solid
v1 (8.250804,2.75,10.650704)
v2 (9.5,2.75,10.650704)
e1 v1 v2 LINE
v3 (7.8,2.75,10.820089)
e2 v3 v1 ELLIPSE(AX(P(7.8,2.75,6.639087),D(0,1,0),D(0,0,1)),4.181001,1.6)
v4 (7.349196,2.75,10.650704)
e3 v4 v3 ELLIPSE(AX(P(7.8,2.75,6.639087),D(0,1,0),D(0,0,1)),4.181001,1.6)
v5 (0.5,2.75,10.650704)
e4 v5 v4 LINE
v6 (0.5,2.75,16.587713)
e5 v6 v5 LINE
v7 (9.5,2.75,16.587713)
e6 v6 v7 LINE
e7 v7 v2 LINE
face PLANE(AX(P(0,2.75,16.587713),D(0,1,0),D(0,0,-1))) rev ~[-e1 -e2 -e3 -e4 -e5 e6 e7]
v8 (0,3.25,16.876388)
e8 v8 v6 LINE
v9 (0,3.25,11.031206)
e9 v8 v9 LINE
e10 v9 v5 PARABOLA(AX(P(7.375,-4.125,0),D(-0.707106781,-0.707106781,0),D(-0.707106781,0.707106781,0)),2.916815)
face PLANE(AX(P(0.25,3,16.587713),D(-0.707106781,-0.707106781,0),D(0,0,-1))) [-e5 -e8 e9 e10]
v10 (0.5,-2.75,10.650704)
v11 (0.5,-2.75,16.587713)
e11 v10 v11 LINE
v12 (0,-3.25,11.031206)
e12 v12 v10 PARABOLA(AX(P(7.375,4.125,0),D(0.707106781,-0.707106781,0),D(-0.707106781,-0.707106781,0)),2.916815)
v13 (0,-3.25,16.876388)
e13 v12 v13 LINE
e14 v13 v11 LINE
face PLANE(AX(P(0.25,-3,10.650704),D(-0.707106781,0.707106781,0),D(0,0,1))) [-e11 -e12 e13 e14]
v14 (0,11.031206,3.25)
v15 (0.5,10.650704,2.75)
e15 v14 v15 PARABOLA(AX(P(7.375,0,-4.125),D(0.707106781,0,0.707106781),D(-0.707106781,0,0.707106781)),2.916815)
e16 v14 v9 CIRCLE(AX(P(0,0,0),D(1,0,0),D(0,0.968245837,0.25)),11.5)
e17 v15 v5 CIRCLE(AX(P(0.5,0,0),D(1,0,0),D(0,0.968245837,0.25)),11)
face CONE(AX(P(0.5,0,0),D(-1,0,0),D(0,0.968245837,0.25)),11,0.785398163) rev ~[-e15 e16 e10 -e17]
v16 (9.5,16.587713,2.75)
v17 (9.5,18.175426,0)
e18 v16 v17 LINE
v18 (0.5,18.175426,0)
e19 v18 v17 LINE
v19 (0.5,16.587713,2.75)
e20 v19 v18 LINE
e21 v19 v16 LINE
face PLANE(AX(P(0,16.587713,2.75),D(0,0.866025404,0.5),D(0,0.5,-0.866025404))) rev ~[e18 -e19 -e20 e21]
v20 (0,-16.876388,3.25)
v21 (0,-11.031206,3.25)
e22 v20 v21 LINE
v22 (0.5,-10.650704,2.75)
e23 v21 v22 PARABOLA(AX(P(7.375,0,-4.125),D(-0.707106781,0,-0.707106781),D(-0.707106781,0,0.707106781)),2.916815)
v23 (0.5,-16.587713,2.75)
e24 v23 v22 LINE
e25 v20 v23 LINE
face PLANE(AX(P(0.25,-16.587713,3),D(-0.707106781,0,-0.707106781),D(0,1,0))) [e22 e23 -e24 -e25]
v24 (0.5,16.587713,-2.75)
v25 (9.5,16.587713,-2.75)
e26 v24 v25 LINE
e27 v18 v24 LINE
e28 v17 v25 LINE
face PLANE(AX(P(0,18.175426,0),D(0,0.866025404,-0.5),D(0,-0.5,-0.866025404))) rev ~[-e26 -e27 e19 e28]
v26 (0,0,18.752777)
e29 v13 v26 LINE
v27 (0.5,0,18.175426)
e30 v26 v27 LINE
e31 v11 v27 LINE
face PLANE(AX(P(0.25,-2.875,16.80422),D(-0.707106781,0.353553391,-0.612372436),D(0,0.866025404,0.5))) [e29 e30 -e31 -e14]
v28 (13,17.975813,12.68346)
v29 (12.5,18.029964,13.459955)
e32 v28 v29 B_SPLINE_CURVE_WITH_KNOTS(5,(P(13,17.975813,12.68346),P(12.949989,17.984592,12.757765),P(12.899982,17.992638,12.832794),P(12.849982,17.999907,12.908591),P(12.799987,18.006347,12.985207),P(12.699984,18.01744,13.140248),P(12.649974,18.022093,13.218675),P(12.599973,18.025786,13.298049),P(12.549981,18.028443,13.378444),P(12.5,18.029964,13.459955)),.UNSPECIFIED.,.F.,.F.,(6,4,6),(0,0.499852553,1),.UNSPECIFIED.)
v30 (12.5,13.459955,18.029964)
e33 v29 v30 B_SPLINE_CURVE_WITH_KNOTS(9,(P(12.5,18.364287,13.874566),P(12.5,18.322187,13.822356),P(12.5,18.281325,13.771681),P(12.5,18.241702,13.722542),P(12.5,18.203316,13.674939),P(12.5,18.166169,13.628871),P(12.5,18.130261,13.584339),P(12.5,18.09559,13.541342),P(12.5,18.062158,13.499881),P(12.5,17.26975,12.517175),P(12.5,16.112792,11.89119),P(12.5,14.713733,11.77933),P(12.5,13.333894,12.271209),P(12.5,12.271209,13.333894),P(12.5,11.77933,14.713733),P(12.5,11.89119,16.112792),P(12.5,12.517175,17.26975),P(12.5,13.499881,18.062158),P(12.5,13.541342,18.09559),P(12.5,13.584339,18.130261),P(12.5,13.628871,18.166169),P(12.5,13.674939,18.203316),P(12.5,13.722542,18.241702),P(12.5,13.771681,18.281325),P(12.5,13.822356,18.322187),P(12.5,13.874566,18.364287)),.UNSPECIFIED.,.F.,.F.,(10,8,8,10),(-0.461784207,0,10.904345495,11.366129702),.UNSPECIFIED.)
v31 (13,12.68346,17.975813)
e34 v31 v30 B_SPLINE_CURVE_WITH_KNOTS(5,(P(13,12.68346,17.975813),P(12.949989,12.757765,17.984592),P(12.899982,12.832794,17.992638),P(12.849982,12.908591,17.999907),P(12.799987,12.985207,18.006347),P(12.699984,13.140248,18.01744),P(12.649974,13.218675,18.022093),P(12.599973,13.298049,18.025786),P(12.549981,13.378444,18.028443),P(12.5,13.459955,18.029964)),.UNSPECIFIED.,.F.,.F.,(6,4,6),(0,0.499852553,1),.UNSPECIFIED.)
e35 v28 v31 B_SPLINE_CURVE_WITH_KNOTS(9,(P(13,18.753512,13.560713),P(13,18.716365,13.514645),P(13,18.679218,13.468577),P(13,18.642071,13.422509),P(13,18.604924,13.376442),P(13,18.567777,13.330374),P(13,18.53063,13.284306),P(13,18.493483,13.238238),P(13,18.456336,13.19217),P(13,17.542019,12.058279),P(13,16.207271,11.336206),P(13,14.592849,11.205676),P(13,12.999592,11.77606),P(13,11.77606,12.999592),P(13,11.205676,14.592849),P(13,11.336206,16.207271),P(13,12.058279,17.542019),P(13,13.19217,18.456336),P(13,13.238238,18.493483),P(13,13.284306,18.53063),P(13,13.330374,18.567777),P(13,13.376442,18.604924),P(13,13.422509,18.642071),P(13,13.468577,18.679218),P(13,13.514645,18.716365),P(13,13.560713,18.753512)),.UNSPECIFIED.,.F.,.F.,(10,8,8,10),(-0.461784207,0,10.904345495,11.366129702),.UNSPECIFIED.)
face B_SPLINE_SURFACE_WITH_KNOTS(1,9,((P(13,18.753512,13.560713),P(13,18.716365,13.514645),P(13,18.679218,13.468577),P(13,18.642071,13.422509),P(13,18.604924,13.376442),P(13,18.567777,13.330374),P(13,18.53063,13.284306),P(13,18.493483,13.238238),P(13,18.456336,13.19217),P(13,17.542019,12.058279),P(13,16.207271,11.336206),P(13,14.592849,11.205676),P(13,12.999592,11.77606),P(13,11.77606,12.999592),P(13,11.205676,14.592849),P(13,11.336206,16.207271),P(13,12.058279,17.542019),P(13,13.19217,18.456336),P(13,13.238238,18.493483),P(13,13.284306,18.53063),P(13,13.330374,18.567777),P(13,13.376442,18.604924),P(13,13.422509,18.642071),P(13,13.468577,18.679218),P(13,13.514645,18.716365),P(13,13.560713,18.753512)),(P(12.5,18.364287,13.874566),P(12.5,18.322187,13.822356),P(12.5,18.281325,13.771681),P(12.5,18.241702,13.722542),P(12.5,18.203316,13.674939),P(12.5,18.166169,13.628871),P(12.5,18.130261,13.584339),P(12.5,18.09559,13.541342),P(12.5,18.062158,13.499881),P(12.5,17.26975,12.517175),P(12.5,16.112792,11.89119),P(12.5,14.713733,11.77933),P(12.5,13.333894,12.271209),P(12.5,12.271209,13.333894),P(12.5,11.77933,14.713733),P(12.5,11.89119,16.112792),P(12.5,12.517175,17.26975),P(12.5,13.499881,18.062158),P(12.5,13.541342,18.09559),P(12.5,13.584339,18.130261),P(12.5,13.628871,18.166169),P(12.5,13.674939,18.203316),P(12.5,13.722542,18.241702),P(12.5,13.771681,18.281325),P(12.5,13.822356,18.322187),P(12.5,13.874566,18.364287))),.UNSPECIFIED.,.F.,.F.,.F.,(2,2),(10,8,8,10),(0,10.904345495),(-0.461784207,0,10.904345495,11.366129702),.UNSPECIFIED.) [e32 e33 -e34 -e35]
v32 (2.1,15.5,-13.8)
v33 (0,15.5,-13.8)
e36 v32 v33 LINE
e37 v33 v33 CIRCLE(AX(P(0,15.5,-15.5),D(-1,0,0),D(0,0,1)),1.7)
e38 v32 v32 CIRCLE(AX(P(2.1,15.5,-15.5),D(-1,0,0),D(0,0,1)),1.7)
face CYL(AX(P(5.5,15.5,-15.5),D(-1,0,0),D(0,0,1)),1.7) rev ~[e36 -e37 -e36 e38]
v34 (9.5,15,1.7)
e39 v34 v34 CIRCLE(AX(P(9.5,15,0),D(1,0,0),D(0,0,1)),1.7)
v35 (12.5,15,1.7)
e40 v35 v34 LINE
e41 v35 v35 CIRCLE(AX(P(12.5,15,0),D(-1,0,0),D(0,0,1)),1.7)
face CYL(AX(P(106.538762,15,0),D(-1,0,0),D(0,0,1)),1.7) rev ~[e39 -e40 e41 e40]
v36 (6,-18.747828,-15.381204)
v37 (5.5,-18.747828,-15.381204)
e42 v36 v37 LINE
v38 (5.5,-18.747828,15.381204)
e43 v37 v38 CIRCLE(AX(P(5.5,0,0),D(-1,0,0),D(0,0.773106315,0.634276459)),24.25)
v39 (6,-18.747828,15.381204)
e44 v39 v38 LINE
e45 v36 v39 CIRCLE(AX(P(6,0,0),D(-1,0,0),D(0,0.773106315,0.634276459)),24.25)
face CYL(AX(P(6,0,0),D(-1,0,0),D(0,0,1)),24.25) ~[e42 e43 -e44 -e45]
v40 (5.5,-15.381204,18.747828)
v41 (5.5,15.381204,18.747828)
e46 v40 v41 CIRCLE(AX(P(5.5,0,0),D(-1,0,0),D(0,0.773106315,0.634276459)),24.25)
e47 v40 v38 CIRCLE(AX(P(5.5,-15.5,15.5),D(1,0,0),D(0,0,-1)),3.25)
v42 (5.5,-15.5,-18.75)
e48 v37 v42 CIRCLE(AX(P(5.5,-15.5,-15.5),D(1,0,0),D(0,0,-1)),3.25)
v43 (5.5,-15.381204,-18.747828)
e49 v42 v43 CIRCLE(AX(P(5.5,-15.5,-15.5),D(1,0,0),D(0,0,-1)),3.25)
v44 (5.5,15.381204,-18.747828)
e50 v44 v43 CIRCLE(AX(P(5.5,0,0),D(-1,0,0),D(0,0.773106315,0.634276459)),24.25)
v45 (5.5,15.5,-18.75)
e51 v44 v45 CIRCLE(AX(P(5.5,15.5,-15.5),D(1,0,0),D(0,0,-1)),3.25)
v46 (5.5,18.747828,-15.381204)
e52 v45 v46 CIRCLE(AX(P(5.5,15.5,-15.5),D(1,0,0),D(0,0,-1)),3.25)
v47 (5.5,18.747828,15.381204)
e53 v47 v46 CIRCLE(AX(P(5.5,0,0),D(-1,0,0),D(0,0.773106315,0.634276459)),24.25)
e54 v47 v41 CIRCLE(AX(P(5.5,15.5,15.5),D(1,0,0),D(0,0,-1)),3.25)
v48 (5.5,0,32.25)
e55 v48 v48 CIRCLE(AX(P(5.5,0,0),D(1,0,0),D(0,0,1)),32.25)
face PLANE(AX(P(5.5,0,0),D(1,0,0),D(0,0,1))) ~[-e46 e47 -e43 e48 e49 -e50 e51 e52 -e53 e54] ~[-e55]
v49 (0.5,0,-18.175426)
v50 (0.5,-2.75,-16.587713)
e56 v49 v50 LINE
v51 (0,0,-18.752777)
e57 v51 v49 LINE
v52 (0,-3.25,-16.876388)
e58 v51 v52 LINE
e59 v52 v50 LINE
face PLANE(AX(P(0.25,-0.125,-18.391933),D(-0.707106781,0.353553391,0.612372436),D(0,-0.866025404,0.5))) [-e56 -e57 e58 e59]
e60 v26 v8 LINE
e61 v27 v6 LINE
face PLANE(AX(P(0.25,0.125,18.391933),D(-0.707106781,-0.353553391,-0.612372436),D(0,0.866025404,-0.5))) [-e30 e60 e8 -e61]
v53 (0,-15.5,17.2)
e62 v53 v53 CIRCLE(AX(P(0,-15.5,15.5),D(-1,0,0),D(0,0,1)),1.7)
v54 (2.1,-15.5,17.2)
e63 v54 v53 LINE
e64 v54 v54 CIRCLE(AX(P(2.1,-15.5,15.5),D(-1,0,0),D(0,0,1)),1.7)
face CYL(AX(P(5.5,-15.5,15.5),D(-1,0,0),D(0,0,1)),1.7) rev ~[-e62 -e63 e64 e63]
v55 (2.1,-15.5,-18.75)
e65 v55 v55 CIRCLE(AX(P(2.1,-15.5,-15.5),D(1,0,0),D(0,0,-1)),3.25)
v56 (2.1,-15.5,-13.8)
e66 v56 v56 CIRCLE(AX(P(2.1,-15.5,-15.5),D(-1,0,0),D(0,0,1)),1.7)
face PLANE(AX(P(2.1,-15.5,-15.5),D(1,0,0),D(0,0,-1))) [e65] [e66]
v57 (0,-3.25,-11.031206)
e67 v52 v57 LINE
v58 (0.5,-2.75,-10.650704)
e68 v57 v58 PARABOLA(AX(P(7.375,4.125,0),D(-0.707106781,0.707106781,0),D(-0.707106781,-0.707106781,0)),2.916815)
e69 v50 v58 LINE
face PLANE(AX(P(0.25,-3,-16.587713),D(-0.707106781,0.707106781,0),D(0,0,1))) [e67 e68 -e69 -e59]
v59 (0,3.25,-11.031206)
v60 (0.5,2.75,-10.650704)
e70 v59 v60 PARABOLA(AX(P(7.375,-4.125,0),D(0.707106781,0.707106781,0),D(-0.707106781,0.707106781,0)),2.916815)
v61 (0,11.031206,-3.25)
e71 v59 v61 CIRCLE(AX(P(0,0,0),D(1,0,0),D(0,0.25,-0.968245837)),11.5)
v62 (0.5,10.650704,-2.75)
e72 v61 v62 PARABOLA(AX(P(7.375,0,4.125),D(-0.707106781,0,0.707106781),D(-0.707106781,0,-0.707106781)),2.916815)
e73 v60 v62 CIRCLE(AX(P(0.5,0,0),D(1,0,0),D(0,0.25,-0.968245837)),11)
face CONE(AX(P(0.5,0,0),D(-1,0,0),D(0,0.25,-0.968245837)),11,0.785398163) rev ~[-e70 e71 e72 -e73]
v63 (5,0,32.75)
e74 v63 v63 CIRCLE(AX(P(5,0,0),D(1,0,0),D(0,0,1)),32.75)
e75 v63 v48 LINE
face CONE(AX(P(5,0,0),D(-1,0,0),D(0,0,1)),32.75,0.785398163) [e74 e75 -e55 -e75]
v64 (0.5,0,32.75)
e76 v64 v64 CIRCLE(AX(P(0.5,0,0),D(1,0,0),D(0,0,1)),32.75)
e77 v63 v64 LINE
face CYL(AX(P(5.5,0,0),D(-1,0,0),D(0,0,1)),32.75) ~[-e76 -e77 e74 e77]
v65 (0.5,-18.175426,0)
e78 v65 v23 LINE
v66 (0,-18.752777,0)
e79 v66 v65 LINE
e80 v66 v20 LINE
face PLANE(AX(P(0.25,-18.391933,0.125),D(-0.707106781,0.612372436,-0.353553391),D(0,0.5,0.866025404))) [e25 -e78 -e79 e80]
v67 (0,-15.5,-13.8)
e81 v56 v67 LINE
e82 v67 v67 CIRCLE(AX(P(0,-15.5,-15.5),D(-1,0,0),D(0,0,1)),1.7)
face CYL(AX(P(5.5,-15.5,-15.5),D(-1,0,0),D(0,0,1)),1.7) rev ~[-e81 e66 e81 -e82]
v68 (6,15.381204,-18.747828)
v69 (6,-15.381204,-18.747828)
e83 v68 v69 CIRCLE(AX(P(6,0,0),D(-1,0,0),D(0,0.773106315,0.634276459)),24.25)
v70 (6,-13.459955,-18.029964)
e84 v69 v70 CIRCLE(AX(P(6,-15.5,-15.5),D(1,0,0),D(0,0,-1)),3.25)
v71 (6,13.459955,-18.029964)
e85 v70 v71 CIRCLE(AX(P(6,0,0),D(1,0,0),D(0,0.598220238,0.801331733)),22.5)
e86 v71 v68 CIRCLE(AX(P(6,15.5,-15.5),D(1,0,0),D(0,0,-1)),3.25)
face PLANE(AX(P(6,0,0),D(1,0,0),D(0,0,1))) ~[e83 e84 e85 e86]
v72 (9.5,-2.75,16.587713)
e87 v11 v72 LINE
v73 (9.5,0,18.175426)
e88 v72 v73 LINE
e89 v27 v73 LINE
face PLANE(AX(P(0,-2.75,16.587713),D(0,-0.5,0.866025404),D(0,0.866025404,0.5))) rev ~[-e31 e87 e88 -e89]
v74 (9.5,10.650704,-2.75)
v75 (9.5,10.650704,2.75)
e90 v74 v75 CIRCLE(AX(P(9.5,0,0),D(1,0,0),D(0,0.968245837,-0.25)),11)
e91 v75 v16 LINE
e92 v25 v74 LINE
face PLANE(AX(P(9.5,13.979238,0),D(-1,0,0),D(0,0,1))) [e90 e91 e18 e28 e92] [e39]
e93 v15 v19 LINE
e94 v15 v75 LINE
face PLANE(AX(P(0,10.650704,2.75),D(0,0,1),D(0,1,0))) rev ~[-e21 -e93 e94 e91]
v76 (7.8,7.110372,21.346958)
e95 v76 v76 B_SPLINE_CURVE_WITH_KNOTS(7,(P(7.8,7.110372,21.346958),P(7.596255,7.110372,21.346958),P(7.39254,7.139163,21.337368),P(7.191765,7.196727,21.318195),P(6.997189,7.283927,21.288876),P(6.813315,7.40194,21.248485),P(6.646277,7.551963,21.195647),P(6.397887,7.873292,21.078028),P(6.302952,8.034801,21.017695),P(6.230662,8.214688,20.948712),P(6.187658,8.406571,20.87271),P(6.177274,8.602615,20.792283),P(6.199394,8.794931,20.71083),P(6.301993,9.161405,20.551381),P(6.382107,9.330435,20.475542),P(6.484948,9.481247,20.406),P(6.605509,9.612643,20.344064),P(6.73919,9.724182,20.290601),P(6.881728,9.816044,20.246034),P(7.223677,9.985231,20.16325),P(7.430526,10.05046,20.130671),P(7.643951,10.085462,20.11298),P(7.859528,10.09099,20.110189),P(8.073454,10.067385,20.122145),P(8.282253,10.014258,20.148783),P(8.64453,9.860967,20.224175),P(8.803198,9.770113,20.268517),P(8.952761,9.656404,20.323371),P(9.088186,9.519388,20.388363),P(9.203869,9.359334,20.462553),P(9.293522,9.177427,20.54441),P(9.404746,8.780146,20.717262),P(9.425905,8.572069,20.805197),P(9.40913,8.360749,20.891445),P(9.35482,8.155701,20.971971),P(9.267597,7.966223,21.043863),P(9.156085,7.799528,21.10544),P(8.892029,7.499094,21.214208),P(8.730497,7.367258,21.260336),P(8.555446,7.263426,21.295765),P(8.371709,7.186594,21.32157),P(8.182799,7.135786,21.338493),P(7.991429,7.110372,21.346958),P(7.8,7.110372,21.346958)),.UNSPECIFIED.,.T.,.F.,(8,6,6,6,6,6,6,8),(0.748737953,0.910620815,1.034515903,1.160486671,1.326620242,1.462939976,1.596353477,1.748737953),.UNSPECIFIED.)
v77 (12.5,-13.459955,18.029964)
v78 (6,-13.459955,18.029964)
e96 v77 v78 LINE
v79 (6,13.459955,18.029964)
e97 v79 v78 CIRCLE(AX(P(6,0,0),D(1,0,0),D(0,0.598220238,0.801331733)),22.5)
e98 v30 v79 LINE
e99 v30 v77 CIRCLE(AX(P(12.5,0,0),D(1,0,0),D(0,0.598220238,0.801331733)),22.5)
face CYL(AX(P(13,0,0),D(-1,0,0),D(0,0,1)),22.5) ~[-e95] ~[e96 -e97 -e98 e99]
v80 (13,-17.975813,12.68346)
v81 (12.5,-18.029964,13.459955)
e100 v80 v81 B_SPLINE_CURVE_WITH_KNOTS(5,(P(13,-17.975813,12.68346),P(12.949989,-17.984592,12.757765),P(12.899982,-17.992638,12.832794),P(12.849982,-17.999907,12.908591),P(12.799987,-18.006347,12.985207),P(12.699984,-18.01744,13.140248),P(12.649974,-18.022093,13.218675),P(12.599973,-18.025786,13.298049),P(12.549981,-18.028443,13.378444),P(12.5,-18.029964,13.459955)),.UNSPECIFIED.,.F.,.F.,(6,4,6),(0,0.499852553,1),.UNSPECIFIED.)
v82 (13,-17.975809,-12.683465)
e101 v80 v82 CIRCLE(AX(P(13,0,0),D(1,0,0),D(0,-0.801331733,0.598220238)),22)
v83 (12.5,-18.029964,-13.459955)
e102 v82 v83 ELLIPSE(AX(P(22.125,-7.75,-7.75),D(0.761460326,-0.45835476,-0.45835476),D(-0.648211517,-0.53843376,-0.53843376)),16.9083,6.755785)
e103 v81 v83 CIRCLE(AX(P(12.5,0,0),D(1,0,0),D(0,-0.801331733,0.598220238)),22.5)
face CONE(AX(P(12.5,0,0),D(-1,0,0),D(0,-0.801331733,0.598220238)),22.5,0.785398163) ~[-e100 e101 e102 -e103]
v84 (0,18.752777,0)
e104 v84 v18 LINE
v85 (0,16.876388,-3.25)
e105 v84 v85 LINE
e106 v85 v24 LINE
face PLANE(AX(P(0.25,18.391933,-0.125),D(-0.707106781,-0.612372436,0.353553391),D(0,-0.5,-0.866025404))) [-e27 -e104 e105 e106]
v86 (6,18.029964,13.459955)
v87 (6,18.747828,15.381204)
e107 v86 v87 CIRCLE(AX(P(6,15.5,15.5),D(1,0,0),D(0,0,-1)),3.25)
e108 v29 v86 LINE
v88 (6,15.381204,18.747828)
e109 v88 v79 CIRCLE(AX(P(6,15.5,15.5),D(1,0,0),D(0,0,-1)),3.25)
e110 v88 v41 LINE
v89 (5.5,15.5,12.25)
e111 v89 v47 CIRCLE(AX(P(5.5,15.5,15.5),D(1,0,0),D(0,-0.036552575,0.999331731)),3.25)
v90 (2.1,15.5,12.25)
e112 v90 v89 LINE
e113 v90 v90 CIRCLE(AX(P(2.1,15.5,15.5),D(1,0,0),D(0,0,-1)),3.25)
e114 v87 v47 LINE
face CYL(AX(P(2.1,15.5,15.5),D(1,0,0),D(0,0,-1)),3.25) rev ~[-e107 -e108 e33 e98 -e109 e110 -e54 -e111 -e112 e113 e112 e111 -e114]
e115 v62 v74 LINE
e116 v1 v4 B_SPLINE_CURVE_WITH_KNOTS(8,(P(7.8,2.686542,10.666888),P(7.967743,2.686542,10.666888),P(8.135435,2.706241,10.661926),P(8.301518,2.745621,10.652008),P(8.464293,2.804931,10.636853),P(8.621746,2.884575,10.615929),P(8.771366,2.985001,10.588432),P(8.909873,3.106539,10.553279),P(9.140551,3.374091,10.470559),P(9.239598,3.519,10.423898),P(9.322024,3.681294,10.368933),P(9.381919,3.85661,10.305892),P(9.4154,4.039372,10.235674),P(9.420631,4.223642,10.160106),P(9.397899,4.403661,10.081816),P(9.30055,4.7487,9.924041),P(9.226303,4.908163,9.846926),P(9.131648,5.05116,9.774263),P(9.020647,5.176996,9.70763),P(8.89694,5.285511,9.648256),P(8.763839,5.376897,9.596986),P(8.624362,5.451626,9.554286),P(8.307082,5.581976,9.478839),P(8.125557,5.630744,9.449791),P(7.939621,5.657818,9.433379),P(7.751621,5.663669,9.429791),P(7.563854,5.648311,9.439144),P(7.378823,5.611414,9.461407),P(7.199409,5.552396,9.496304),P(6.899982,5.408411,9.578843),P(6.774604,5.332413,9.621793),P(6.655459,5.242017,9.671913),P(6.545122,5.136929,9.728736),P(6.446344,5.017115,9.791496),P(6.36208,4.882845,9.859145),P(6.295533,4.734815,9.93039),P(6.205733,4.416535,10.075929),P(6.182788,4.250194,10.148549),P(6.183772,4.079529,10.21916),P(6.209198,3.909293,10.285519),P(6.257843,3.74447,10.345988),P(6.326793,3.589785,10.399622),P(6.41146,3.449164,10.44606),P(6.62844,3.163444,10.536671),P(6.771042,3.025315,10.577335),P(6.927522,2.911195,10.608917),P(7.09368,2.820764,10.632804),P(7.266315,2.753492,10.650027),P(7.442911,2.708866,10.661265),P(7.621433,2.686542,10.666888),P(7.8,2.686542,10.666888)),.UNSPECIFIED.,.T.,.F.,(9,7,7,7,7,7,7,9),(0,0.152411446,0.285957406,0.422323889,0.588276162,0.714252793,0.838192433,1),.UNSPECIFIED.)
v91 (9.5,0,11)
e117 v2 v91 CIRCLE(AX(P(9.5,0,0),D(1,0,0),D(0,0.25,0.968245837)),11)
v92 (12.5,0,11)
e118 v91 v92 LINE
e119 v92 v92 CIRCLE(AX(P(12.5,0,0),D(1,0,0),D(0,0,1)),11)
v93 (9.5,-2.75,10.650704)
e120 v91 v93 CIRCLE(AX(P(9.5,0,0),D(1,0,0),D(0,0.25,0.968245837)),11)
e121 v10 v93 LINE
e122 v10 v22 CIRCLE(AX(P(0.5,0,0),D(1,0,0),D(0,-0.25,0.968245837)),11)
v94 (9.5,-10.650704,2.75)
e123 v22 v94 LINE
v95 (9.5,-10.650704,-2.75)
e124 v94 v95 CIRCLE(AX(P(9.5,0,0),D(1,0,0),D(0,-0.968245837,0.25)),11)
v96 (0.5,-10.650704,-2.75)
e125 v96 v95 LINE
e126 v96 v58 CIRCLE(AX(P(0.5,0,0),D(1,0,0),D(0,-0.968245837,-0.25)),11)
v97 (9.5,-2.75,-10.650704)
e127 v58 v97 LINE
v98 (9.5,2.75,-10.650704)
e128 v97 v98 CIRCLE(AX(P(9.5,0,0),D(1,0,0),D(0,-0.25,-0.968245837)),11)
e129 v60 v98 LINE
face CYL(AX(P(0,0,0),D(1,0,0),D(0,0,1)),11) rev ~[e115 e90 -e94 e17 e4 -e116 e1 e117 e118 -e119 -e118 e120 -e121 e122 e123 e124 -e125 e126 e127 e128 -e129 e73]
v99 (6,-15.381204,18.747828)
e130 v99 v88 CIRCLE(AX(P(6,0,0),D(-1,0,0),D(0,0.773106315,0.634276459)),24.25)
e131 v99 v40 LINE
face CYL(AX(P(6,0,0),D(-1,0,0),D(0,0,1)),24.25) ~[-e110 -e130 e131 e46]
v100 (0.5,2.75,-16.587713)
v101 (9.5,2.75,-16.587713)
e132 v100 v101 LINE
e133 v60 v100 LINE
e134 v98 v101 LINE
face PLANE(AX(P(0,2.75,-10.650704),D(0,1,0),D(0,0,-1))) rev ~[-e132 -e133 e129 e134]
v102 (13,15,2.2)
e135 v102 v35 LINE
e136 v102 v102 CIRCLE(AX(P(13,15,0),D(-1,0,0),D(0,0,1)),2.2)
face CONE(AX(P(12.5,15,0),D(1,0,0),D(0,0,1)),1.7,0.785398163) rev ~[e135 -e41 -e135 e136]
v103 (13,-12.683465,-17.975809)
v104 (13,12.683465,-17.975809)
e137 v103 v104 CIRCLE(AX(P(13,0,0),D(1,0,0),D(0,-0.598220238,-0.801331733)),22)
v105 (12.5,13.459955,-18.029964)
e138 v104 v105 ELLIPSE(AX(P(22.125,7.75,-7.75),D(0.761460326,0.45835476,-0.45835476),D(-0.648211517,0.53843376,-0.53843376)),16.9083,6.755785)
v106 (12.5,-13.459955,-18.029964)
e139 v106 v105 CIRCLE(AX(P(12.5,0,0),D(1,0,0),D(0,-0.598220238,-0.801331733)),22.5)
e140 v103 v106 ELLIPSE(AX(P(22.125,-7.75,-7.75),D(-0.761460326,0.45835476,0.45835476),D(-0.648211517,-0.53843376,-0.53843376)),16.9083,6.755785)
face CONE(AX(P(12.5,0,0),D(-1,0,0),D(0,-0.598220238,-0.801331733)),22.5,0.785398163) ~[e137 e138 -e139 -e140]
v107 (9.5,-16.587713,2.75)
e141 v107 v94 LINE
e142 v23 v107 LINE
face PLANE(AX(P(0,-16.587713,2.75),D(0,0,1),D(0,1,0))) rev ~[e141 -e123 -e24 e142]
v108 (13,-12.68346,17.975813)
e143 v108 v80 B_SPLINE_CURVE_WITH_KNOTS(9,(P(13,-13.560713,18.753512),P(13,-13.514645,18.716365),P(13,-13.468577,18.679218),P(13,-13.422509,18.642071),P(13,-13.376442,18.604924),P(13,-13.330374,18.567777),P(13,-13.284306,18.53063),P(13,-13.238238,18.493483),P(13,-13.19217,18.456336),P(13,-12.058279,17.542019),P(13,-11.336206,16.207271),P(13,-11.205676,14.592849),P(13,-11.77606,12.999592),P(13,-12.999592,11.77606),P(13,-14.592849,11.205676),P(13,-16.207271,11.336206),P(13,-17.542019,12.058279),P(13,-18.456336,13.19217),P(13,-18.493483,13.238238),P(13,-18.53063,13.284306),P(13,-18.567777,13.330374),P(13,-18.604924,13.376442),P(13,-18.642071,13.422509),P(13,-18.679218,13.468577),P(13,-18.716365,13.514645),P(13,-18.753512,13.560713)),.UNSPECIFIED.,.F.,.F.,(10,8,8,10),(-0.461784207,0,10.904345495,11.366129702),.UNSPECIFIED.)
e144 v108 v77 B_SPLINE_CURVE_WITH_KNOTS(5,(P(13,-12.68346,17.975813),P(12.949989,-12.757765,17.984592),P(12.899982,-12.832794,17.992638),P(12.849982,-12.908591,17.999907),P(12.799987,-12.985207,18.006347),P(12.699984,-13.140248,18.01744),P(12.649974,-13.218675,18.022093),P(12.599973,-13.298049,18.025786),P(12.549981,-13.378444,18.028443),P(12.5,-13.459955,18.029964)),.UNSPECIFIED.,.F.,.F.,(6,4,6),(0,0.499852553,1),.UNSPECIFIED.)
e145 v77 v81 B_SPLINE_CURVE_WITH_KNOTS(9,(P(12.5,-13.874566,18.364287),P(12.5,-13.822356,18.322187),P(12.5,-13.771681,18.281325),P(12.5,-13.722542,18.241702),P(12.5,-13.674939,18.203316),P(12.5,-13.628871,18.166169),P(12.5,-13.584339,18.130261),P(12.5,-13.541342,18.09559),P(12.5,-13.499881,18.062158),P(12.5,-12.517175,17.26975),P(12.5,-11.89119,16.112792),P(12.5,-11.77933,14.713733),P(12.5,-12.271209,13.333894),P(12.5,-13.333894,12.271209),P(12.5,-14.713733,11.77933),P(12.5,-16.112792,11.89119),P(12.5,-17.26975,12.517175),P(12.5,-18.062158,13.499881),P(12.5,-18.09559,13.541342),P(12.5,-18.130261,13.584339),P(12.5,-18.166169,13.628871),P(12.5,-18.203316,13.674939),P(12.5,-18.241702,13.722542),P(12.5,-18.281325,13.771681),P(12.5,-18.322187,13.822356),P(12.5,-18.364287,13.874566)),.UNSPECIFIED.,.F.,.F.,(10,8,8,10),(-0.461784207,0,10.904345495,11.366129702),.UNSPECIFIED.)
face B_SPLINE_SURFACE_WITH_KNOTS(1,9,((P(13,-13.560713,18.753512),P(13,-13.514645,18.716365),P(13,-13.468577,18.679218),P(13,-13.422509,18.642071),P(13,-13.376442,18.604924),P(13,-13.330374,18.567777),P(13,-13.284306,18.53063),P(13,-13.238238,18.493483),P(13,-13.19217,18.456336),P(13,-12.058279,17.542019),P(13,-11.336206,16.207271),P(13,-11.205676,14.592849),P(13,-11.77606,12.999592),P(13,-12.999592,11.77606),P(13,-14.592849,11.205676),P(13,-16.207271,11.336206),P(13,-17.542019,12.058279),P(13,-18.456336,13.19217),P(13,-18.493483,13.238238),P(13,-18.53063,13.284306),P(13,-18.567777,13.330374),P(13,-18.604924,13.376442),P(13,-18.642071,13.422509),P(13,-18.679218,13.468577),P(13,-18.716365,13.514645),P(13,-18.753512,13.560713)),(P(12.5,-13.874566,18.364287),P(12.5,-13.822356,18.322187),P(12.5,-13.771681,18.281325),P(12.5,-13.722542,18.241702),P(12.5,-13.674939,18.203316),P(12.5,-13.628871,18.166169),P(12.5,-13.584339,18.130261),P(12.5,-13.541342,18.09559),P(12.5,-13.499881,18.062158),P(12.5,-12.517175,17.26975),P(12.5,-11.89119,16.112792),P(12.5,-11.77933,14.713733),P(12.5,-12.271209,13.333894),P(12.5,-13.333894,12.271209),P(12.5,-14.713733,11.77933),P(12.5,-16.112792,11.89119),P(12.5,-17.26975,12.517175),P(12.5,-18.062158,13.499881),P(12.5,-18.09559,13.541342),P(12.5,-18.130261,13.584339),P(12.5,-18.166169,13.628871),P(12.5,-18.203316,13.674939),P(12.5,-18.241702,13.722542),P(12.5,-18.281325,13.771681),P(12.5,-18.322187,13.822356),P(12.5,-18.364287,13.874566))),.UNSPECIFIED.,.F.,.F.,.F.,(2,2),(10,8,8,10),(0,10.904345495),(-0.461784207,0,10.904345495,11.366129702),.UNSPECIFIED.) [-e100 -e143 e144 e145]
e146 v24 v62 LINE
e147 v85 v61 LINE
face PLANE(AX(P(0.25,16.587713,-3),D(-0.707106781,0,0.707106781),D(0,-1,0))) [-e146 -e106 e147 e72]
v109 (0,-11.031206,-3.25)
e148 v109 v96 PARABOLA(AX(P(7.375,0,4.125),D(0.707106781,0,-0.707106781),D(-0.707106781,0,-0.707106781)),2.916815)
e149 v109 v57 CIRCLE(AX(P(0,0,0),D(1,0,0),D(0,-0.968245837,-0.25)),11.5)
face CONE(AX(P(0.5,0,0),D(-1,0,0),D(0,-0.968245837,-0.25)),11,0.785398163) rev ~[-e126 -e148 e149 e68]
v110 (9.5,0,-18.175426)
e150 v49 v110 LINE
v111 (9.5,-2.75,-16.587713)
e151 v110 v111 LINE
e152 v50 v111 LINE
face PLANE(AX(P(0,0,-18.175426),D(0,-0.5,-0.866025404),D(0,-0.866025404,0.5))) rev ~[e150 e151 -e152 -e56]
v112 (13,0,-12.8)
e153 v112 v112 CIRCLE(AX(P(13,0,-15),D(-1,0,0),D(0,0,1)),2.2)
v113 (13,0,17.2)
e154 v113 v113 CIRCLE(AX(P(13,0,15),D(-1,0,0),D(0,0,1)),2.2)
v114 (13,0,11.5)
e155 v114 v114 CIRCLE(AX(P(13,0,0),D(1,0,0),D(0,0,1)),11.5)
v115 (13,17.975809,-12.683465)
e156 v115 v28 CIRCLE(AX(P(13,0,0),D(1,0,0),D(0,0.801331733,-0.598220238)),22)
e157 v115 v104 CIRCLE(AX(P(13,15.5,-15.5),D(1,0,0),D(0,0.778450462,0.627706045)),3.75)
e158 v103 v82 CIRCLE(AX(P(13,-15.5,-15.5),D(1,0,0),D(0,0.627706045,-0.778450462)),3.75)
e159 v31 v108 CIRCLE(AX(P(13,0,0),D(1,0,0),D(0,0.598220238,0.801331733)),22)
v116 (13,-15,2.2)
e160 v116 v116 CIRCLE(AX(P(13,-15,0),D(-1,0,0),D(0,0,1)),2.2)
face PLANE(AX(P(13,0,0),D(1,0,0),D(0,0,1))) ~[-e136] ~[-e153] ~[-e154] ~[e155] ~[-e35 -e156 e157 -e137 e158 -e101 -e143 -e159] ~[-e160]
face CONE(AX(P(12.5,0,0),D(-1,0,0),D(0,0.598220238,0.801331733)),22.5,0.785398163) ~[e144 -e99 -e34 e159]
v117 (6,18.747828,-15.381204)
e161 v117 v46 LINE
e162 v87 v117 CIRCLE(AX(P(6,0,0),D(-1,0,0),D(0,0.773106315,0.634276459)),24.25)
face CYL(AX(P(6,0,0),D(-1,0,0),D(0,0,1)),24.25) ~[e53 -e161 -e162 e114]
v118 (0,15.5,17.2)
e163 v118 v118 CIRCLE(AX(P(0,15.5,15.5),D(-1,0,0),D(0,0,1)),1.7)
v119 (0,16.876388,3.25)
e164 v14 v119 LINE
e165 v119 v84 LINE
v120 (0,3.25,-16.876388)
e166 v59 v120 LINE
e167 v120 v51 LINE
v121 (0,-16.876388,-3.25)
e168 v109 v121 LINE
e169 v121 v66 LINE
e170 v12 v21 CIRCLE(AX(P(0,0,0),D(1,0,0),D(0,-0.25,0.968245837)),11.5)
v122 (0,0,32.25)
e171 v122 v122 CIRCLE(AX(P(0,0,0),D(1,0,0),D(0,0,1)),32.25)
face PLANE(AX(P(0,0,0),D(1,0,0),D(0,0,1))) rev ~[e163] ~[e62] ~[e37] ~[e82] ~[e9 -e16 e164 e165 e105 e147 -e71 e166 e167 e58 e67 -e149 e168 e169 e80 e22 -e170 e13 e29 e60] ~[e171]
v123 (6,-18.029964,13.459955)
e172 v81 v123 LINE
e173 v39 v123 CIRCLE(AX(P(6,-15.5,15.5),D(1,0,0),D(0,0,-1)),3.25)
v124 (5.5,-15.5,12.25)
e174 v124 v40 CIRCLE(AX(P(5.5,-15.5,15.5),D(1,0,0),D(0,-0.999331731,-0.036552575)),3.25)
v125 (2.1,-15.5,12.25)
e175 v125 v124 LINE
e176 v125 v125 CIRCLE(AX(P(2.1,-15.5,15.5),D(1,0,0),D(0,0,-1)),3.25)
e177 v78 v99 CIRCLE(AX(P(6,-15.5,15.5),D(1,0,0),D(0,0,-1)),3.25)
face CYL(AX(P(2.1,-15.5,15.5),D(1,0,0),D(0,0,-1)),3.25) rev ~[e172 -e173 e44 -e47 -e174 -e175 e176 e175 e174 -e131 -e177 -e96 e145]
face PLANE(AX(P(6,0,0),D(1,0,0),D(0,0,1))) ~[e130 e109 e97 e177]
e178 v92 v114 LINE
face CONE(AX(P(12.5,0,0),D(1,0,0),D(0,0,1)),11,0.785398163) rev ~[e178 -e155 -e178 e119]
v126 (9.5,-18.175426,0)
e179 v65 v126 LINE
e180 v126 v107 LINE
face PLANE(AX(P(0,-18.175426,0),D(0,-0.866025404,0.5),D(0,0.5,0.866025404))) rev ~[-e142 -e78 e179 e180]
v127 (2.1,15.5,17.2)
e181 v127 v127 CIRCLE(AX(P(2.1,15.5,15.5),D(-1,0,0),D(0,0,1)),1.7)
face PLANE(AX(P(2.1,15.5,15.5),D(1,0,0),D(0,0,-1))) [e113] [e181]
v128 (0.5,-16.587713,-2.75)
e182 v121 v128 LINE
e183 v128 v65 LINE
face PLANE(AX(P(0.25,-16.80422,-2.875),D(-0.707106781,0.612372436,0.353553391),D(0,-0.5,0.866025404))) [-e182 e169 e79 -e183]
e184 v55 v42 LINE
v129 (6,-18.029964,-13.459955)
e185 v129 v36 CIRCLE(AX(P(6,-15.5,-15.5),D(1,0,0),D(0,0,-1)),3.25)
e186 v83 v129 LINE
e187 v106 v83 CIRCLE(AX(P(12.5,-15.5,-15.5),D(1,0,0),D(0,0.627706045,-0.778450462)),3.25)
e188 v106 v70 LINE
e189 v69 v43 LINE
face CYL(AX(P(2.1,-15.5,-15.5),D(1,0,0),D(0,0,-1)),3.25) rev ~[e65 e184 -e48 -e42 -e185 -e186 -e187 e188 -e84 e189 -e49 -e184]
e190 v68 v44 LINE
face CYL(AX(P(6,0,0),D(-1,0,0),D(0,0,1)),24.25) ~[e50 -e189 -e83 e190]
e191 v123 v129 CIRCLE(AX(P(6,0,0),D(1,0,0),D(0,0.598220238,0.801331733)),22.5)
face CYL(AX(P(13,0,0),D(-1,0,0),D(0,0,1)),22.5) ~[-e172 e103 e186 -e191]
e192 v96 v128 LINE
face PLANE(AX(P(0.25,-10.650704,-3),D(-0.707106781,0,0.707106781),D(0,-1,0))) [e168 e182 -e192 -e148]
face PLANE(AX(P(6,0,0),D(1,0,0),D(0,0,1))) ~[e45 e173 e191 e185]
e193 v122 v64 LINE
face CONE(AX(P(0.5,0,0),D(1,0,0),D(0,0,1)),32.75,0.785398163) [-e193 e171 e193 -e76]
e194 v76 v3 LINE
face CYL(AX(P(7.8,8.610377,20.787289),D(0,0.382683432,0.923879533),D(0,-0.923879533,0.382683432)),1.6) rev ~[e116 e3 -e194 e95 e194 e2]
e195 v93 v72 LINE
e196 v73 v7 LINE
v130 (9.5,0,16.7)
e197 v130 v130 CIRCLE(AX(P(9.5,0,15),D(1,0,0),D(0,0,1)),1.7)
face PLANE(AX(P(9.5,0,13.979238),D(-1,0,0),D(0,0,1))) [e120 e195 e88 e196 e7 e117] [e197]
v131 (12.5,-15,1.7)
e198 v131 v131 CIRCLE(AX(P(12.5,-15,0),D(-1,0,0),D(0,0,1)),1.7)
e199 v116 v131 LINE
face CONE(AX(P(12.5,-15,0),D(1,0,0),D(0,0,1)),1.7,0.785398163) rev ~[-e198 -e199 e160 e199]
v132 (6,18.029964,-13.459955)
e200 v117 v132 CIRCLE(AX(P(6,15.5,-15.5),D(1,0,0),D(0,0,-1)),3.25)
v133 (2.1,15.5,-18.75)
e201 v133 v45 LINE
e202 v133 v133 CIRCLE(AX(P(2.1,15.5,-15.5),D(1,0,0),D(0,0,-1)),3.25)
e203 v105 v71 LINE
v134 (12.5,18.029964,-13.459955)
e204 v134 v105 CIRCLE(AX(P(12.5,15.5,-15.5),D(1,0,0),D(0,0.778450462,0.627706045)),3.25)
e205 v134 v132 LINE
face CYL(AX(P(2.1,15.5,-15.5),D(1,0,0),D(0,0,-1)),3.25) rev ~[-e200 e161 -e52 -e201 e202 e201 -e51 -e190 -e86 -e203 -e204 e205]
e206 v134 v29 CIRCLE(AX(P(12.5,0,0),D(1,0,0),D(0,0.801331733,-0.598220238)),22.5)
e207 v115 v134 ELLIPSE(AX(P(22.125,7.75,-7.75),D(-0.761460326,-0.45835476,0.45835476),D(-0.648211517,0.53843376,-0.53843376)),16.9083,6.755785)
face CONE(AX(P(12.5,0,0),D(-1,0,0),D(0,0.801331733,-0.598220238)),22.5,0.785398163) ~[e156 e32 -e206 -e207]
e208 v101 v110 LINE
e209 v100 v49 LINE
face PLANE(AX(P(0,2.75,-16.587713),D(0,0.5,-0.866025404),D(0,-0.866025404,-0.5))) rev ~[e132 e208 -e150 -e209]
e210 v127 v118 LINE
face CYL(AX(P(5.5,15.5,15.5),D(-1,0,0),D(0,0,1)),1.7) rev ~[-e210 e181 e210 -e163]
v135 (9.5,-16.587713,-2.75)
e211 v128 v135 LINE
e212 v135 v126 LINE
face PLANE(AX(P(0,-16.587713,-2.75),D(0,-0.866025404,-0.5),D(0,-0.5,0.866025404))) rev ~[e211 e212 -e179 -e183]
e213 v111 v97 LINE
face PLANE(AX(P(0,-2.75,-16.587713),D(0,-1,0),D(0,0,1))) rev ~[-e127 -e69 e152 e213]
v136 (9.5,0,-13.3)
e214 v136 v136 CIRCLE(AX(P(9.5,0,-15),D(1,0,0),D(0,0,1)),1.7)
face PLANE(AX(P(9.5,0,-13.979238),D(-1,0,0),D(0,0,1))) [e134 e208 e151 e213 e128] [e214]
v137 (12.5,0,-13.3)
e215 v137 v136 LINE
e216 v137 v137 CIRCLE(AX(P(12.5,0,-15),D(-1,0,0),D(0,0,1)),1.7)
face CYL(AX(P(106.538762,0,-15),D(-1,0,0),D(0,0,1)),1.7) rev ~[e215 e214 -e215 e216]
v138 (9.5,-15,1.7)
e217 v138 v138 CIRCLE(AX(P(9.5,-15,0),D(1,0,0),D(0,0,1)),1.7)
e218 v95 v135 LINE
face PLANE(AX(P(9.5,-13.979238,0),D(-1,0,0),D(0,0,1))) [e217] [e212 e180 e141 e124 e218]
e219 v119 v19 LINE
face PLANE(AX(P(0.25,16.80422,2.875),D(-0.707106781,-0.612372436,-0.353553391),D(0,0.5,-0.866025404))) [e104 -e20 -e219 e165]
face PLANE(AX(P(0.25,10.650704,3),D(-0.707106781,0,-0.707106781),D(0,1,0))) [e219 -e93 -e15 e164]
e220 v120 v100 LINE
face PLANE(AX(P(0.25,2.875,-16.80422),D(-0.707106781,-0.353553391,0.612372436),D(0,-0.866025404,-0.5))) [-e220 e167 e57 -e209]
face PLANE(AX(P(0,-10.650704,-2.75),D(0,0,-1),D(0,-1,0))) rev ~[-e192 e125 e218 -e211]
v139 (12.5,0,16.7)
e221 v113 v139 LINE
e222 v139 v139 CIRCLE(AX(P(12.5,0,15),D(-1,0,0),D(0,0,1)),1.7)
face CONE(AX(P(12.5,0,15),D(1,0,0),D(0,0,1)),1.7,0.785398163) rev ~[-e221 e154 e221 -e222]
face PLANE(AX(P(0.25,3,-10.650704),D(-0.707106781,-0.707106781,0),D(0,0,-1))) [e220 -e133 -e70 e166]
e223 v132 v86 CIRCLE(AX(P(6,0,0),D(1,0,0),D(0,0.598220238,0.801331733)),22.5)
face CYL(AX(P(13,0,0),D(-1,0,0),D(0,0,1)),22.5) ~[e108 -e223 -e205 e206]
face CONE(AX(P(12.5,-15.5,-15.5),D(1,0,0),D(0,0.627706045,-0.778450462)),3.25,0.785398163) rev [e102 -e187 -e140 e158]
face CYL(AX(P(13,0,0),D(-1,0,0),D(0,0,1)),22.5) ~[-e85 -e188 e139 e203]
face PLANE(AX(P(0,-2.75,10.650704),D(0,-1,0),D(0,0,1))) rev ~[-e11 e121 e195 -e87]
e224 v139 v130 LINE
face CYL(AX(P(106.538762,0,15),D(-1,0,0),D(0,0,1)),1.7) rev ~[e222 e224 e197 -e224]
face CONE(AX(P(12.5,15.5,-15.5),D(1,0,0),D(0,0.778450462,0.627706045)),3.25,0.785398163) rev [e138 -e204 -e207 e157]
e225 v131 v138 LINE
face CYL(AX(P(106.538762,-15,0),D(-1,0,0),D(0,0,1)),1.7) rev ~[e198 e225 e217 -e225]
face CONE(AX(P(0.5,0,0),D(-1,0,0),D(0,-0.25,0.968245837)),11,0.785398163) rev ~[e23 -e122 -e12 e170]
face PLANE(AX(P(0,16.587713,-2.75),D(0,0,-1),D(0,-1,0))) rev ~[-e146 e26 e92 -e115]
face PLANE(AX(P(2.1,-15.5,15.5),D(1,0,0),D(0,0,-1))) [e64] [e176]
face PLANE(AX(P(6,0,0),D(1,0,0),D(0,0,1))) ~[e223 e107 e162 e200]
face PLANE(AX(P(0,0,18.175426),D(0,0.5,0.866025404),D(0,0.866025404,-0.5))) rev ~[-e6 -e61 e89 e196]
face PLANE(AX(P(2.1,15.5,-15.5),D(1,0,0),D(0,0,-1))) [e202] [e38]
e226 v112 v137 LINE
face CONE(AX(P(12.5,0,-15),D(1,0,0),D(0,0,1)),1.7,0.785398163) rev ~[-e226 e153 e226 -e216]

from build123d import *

# Parameters (mm, degrees)
M3_CLEARANCE_HOLE1_D                                = 3.4
SKETCH6_R                                           = 1.7
CUT_EXTRUDE1_DEPTH                                  = 9.5
CUT_EXTRUDE2_REACH                                  = 50.105
SKETCH7_R                                           = 3.25
CBORE_FOR_M3_HEX_SOCKET_HEAD_CAP_SCREW1_D           = 3.4
CBORE_FOR_M3_HEX_SOCKET_HEAD_CAP_SCREW1_CBORE_D     = 6.5
CBORE_FOR_M3_HEX_SOCKET_HEAD_CAP_SCREW1_CBORE_DEPTH = 3.4
CUT_EXTRUDE3_REACH                                  = 70.891
SKETCH12_R                                          = 1.6
CHAMFER1_SIZE                                       = 0.5


with BuildPart() as part:
    # Sketch1 → Revolve1 (revolve)
    with BuildSketch(Plane.XY, mode=Mode.PRIVATE) as revolve1_sk:
        Polygon((0, 32.75), (0, 11), (13, 11), (13, 22.5), (6, 22.5), (6, 24.25), (5.5, 24.25), (5.5, 32.75), align=None)
    revolve(revolve1_sk.sketch.rotate(Axis((0, 0, 0), (1, 0, 0)), 90), axis=Axis((0, 0, 0), (1, 0, 0)))

    # M3 Clearance Hole1 (through all)
    with Locations(Plane(origin=(13, 0, 0), x_dir=(0, 0, -1), z_dir=(1, 0, 0))):
        with Locations((0, 15), (15, 0), (0, -15), (-15, 0)):
            Hole(M3_CLEARANCE_HOLE1_D / 2)

    # Sketch6 → Cut-Extrude1 (cut)
    # profile 1 of 4: a face of its own
    with BuildSketch(Plane.ZY):
        with BuildLine():
            Line((2.75, 10.650704202), (2.75, 16.58771324))
            Line((2.75, 16.58771324), (0, 18.175426481))
            Line((0, 18.175426481), (-2.75, 16.58771324))
            Line((-2.75, 16.58771324), (-2.75, 10.650704202))
            ThreePointArc((-2.75, 10.650704202), (0, 11), (2.75, 10.650704202))
        make_face()
        with Locations(Location((0, 15, 0), (0, 0, 180))):
            Circle(SKETCH6_R, mode=Mode.SUBTRACT)
    # profile 2 of 4: a face of its own
    with BuildSketch(Plane.ZY):
        with BuildLine():
            ThreePointArc((-10.650704202, -2.75), (-11, 0), (-10.650704202, 2.75))
            Line((-10.650704202, 2.75), (-16.58771324, 2.75))
            Line((-16.58771324, 2.75), (-18.175426481, 0))
            Line((-18.175426481, 0), (-16.58771324, -2.75))
            Line((-16.58771324, -2.75), (-10.650704202, -2.75))
        make_face()
        with Locations(Location((-15, 0, 0), (0, 0, 180))):
            Circle(SKETCH6_R, mode=Mode.SUBTRACT)
    # profile 3 of 4: a face of its own
    with BuildSketch(Plane.ZY):
        with BuildLine():
            ThreePointArc((10.650704202, 2.75), (11, 0), (10.650704202, -2.75))
            Line((10.650704202, -2.75), (16.58771324, -2.75))
            Line((16.58771324, -2.75), (18.175426481, 0))
            Line((18.175426481, 0), (16.58771324, 2.75))
            Line((16.58771324, 2.75), (10.650704202, 2.75))
        make_face()
        with Locations(Location((15, 0, 0), (0, 0, 180))):
            Circle(SKETCH6_R, mode=Mode.SUBTRACT)
    # profile 4 of 4: a face of its own
    with BuildSketch(Plane.ZY):
        with BuildLine():
            ThreePointArc((2.75, -10.650704202), (0, -11), (-2.75, -10.650704202))
            Line((-2.75, -10.650704202), (-2.75, -16.58771324))
            Line((-2.75, -16.58771324), (0, -18.175426481))
            Line((0, -18.175426481), (2.75, -16.58771324))
            Line((2.75, -16.58771324), (2.75, -10.650704202))
        make_face()
        with Locations(Location((0, -15, 0), (0, 0, 180))):
            Circle(SKETCH6_R, mode=Mode.SUBTRACT)
    extrude(amount=-CUT_EXTRUDE1_DEPTH, mode=Mode.SUBTRACT)

    # Cut-Extrude2: up to this face of the body (flat: up to its plane)
    cut_extrude2_end = Plane(part.part.faces().sort_by_distance((5.5, 0, -25.176309883))[0])
    # Sketch7 → Cut-Extrude2 (cut, up to the picked face)
    with BuildSketch(Plane(origin=(13, 0, 0), x_dir=(0, 0, -1), z_dir=(1, 0, 0)), mode=Mode.PRIVATE) as cut_extrude2_sk1:
        with Locations((-15.5, 15.5)):
            Circle(SKETCH7_R)
    cut_extrude2_tool1 = split(extrude(cut_extrude2_sk1.sketch, amount=-CUT_EXTRUDE2_REACH, mode=Mode.PRIVATE), bisect_by=cut_extrude2_end, keep=Keep.BOTH, mode=Mode.PRIVATE)
    # Sketch7 → Cut-Extrude2 (cut, up to the picked face)
    with BuildSketch(Plane(origin=(13, 0, 0), x_dir=(0, 0, -1), z_dir=(1, 0, 0)), mode=Mode.PRIVATE) as cut_extrude2_sk2:
        with Locations((-15.5, -15.5)):
            Circle(SKETCH7_R)
    cut_extrude2_tool2 = split(extrude(cut_extrude2_sk2.sketch, amount=-CUT_EXTRUDE2_REACH, mode=Mode.PRIVATE), bisect_by=cut_extrude2_end, keep=Keep.BOTH, mode=Mode.PRIVATE)
    # Sketch7 → Cut-Extrude2 (cut, up to the picked face)
    with BuildSketch(Plane(origin=(13, 0, 0), x_dir=(0, 0, -1), z_dir=(1, 0, 0)), mode=Mode.PRIVATE) as cut_extrude2_sk3:
        with Locations((15.5, -15.5)):
            Circle(SKETCH7_R)
    cut_extrude2_tool3 = split(extrude(cut_extrude2_sk3.sketch, amount=-CUT_EXTRUDE2_REACH, mode=Mode.PRIVATE), bisect_by=cut_extrude2_end, keep=Keep.BOTH, mode=Mode.PRIVATE)
    # Sketch7 → Cut-Extrude2 (cut, up to the picked face)
    with BuildSketch(Plane(origin=(13, 0, 0), x_dir=(0, 0, -1), z_dir=(1, 0, 0)), mode=Mode.PRIVATE) as cut_extrude2_sk4:
        with Locations((15.5, 15.5)):
            Circle(SKETCH7_R)
    cut_extrude2_tool4 = split(extrude(cut_extrude2_sk4.sketch, amount=-CUT_EXTRUDE2_REACH, mode=Mode.PRIVATE), bisect_by=cut_extrude2_end, keep=Keep.BOTH, mode=Mode.PRIVATE)
    add(cut_extrude2_tool1.solids().sort_by(Axis((13, 15.5, 15.5), (-1, 0, 0)))[0], mode=Mode.SUBTRACT)
    add(cut_extrude2_tool2.solids().sort_by(Axis((13, -15.5, 15.5), (-1, 0, 0)))[0], mode=Mode.SUBTRACT)
    add(cut_extrude2_tool3.solids().sort_by(Axis((13, -15.5, -15.5), (-1, 0, 0)))[0], mode=Mode.SUBTRACT)
    add(cut_extrude2_tool4.solids().sort_by(Axis((13, 15.5, -15.5), (-1, 0, 0)))[0], mode=Mode.SUBTRACT)

    # CBORE for M3 Hex Socket Head Cap Screw1 (through all)
    with Locations(Plane(origin=(5.5, 0, 0), x_dir=(0, 0, -1), z_dir=(1, 0, 0))):
        with Locations((-15.5, 15.5), (15.5, 15.5), (15.5, -15.5), (-15.5, -15.5)):
            CounterBoreHole(CBORE_FOR_M3_HEX_SOCKET_HEAD_CAP_SCREW1_D / 2, CBORE_FOR_M3_HEX_SOCKET_HEAD_CAP_SCREW1_CBORE_D / 2, CBORE_FOR_M3_HEX_SOCKET_HEAD_CAP_SCREW1_CBORE_DEPTH)

    # Sketch12 → Cut-Extrude3 (cut, up to next)
    with BuildSketch(Plane(origin=(0, 8.610377228, 20.787289482), x_dir=(-1, 0, 0), z_dir=(0, 0.38268343236508734, 0.9238795325112877)), mode=Mode.PRIVATE) as cut_extrude3_sk1:
        with Locations(Location((-7.8, 0, 0), (0, 0, 90))):
            Circle(SKETCH12_R)
    cut_extrude3_tool1 = extrude(cut_extrude3_sk1.sketch, amount=-CUT_EXTRUDE3_REACH, mode=Mode.PRIVATE) & part.part
    add(cut_extrude3_tool1.solids().sort_by_distance((7.8, 8.610377, 20.787289))[0], mode=Mode.SUBTRACT)

    # Chamfer1
    chamfer1_edges = [part.edges().sort_by_distance(p)[0] for p in [
        (13, 0, -11),
        (13, 22.5, 0),
        (13, 0, -22.5),
        (13, -22.5, 0),
        (13, 0, 22.5),
        (13, -13.201902961, 13.201902961),
        (13, -13.201902961, -13.201902961),
        (13, 13.201902961, -13.201902961),
        (13, 13.201902961, 13.201902961),
        (13, 15, -1.7),
        (13, 0, 13.3),
        (13, -15, -1.7),
        (13, 0, -16.7),
        (0, 7.778174593, -7.778174593),
        (0, -7.778174593, -7.778174593),
        (0, -7.778174593, 7.778174593),
        (0, 13.619208721, -2.75),
        (0, 13.619208721, 2.75),
        (0, 17.38156986, 1.375),
        (0, 17.38156986, -1.375),
        (0, 2.75, 13.619208721),
        (0, -2.75, 13.619208721),
        (0, -1.375, 17.38156986),
        (0, 1.375, 17.38156986),
        (0, 7.778174593, 7.778174593),
        (0, -13.619208721, -2.75),
        (0, -17.38156986, -1.375),
        (0, -17.38156986, 1.375),
        (0, -13.619208721, 2.75),
        (0, 0, -32.75),
        (5.5, 0, -32.75),
        (0, 2.75, -13.619208721),
        (0, 1.375, -17.38156986),
        (0, -1.375, -17.38156986),
        (0, -2.75, -13.619208721),
    ]]
    chamfer(chamfer1_edges, length=CHAMFER1_SIZE)


solid = part.part
